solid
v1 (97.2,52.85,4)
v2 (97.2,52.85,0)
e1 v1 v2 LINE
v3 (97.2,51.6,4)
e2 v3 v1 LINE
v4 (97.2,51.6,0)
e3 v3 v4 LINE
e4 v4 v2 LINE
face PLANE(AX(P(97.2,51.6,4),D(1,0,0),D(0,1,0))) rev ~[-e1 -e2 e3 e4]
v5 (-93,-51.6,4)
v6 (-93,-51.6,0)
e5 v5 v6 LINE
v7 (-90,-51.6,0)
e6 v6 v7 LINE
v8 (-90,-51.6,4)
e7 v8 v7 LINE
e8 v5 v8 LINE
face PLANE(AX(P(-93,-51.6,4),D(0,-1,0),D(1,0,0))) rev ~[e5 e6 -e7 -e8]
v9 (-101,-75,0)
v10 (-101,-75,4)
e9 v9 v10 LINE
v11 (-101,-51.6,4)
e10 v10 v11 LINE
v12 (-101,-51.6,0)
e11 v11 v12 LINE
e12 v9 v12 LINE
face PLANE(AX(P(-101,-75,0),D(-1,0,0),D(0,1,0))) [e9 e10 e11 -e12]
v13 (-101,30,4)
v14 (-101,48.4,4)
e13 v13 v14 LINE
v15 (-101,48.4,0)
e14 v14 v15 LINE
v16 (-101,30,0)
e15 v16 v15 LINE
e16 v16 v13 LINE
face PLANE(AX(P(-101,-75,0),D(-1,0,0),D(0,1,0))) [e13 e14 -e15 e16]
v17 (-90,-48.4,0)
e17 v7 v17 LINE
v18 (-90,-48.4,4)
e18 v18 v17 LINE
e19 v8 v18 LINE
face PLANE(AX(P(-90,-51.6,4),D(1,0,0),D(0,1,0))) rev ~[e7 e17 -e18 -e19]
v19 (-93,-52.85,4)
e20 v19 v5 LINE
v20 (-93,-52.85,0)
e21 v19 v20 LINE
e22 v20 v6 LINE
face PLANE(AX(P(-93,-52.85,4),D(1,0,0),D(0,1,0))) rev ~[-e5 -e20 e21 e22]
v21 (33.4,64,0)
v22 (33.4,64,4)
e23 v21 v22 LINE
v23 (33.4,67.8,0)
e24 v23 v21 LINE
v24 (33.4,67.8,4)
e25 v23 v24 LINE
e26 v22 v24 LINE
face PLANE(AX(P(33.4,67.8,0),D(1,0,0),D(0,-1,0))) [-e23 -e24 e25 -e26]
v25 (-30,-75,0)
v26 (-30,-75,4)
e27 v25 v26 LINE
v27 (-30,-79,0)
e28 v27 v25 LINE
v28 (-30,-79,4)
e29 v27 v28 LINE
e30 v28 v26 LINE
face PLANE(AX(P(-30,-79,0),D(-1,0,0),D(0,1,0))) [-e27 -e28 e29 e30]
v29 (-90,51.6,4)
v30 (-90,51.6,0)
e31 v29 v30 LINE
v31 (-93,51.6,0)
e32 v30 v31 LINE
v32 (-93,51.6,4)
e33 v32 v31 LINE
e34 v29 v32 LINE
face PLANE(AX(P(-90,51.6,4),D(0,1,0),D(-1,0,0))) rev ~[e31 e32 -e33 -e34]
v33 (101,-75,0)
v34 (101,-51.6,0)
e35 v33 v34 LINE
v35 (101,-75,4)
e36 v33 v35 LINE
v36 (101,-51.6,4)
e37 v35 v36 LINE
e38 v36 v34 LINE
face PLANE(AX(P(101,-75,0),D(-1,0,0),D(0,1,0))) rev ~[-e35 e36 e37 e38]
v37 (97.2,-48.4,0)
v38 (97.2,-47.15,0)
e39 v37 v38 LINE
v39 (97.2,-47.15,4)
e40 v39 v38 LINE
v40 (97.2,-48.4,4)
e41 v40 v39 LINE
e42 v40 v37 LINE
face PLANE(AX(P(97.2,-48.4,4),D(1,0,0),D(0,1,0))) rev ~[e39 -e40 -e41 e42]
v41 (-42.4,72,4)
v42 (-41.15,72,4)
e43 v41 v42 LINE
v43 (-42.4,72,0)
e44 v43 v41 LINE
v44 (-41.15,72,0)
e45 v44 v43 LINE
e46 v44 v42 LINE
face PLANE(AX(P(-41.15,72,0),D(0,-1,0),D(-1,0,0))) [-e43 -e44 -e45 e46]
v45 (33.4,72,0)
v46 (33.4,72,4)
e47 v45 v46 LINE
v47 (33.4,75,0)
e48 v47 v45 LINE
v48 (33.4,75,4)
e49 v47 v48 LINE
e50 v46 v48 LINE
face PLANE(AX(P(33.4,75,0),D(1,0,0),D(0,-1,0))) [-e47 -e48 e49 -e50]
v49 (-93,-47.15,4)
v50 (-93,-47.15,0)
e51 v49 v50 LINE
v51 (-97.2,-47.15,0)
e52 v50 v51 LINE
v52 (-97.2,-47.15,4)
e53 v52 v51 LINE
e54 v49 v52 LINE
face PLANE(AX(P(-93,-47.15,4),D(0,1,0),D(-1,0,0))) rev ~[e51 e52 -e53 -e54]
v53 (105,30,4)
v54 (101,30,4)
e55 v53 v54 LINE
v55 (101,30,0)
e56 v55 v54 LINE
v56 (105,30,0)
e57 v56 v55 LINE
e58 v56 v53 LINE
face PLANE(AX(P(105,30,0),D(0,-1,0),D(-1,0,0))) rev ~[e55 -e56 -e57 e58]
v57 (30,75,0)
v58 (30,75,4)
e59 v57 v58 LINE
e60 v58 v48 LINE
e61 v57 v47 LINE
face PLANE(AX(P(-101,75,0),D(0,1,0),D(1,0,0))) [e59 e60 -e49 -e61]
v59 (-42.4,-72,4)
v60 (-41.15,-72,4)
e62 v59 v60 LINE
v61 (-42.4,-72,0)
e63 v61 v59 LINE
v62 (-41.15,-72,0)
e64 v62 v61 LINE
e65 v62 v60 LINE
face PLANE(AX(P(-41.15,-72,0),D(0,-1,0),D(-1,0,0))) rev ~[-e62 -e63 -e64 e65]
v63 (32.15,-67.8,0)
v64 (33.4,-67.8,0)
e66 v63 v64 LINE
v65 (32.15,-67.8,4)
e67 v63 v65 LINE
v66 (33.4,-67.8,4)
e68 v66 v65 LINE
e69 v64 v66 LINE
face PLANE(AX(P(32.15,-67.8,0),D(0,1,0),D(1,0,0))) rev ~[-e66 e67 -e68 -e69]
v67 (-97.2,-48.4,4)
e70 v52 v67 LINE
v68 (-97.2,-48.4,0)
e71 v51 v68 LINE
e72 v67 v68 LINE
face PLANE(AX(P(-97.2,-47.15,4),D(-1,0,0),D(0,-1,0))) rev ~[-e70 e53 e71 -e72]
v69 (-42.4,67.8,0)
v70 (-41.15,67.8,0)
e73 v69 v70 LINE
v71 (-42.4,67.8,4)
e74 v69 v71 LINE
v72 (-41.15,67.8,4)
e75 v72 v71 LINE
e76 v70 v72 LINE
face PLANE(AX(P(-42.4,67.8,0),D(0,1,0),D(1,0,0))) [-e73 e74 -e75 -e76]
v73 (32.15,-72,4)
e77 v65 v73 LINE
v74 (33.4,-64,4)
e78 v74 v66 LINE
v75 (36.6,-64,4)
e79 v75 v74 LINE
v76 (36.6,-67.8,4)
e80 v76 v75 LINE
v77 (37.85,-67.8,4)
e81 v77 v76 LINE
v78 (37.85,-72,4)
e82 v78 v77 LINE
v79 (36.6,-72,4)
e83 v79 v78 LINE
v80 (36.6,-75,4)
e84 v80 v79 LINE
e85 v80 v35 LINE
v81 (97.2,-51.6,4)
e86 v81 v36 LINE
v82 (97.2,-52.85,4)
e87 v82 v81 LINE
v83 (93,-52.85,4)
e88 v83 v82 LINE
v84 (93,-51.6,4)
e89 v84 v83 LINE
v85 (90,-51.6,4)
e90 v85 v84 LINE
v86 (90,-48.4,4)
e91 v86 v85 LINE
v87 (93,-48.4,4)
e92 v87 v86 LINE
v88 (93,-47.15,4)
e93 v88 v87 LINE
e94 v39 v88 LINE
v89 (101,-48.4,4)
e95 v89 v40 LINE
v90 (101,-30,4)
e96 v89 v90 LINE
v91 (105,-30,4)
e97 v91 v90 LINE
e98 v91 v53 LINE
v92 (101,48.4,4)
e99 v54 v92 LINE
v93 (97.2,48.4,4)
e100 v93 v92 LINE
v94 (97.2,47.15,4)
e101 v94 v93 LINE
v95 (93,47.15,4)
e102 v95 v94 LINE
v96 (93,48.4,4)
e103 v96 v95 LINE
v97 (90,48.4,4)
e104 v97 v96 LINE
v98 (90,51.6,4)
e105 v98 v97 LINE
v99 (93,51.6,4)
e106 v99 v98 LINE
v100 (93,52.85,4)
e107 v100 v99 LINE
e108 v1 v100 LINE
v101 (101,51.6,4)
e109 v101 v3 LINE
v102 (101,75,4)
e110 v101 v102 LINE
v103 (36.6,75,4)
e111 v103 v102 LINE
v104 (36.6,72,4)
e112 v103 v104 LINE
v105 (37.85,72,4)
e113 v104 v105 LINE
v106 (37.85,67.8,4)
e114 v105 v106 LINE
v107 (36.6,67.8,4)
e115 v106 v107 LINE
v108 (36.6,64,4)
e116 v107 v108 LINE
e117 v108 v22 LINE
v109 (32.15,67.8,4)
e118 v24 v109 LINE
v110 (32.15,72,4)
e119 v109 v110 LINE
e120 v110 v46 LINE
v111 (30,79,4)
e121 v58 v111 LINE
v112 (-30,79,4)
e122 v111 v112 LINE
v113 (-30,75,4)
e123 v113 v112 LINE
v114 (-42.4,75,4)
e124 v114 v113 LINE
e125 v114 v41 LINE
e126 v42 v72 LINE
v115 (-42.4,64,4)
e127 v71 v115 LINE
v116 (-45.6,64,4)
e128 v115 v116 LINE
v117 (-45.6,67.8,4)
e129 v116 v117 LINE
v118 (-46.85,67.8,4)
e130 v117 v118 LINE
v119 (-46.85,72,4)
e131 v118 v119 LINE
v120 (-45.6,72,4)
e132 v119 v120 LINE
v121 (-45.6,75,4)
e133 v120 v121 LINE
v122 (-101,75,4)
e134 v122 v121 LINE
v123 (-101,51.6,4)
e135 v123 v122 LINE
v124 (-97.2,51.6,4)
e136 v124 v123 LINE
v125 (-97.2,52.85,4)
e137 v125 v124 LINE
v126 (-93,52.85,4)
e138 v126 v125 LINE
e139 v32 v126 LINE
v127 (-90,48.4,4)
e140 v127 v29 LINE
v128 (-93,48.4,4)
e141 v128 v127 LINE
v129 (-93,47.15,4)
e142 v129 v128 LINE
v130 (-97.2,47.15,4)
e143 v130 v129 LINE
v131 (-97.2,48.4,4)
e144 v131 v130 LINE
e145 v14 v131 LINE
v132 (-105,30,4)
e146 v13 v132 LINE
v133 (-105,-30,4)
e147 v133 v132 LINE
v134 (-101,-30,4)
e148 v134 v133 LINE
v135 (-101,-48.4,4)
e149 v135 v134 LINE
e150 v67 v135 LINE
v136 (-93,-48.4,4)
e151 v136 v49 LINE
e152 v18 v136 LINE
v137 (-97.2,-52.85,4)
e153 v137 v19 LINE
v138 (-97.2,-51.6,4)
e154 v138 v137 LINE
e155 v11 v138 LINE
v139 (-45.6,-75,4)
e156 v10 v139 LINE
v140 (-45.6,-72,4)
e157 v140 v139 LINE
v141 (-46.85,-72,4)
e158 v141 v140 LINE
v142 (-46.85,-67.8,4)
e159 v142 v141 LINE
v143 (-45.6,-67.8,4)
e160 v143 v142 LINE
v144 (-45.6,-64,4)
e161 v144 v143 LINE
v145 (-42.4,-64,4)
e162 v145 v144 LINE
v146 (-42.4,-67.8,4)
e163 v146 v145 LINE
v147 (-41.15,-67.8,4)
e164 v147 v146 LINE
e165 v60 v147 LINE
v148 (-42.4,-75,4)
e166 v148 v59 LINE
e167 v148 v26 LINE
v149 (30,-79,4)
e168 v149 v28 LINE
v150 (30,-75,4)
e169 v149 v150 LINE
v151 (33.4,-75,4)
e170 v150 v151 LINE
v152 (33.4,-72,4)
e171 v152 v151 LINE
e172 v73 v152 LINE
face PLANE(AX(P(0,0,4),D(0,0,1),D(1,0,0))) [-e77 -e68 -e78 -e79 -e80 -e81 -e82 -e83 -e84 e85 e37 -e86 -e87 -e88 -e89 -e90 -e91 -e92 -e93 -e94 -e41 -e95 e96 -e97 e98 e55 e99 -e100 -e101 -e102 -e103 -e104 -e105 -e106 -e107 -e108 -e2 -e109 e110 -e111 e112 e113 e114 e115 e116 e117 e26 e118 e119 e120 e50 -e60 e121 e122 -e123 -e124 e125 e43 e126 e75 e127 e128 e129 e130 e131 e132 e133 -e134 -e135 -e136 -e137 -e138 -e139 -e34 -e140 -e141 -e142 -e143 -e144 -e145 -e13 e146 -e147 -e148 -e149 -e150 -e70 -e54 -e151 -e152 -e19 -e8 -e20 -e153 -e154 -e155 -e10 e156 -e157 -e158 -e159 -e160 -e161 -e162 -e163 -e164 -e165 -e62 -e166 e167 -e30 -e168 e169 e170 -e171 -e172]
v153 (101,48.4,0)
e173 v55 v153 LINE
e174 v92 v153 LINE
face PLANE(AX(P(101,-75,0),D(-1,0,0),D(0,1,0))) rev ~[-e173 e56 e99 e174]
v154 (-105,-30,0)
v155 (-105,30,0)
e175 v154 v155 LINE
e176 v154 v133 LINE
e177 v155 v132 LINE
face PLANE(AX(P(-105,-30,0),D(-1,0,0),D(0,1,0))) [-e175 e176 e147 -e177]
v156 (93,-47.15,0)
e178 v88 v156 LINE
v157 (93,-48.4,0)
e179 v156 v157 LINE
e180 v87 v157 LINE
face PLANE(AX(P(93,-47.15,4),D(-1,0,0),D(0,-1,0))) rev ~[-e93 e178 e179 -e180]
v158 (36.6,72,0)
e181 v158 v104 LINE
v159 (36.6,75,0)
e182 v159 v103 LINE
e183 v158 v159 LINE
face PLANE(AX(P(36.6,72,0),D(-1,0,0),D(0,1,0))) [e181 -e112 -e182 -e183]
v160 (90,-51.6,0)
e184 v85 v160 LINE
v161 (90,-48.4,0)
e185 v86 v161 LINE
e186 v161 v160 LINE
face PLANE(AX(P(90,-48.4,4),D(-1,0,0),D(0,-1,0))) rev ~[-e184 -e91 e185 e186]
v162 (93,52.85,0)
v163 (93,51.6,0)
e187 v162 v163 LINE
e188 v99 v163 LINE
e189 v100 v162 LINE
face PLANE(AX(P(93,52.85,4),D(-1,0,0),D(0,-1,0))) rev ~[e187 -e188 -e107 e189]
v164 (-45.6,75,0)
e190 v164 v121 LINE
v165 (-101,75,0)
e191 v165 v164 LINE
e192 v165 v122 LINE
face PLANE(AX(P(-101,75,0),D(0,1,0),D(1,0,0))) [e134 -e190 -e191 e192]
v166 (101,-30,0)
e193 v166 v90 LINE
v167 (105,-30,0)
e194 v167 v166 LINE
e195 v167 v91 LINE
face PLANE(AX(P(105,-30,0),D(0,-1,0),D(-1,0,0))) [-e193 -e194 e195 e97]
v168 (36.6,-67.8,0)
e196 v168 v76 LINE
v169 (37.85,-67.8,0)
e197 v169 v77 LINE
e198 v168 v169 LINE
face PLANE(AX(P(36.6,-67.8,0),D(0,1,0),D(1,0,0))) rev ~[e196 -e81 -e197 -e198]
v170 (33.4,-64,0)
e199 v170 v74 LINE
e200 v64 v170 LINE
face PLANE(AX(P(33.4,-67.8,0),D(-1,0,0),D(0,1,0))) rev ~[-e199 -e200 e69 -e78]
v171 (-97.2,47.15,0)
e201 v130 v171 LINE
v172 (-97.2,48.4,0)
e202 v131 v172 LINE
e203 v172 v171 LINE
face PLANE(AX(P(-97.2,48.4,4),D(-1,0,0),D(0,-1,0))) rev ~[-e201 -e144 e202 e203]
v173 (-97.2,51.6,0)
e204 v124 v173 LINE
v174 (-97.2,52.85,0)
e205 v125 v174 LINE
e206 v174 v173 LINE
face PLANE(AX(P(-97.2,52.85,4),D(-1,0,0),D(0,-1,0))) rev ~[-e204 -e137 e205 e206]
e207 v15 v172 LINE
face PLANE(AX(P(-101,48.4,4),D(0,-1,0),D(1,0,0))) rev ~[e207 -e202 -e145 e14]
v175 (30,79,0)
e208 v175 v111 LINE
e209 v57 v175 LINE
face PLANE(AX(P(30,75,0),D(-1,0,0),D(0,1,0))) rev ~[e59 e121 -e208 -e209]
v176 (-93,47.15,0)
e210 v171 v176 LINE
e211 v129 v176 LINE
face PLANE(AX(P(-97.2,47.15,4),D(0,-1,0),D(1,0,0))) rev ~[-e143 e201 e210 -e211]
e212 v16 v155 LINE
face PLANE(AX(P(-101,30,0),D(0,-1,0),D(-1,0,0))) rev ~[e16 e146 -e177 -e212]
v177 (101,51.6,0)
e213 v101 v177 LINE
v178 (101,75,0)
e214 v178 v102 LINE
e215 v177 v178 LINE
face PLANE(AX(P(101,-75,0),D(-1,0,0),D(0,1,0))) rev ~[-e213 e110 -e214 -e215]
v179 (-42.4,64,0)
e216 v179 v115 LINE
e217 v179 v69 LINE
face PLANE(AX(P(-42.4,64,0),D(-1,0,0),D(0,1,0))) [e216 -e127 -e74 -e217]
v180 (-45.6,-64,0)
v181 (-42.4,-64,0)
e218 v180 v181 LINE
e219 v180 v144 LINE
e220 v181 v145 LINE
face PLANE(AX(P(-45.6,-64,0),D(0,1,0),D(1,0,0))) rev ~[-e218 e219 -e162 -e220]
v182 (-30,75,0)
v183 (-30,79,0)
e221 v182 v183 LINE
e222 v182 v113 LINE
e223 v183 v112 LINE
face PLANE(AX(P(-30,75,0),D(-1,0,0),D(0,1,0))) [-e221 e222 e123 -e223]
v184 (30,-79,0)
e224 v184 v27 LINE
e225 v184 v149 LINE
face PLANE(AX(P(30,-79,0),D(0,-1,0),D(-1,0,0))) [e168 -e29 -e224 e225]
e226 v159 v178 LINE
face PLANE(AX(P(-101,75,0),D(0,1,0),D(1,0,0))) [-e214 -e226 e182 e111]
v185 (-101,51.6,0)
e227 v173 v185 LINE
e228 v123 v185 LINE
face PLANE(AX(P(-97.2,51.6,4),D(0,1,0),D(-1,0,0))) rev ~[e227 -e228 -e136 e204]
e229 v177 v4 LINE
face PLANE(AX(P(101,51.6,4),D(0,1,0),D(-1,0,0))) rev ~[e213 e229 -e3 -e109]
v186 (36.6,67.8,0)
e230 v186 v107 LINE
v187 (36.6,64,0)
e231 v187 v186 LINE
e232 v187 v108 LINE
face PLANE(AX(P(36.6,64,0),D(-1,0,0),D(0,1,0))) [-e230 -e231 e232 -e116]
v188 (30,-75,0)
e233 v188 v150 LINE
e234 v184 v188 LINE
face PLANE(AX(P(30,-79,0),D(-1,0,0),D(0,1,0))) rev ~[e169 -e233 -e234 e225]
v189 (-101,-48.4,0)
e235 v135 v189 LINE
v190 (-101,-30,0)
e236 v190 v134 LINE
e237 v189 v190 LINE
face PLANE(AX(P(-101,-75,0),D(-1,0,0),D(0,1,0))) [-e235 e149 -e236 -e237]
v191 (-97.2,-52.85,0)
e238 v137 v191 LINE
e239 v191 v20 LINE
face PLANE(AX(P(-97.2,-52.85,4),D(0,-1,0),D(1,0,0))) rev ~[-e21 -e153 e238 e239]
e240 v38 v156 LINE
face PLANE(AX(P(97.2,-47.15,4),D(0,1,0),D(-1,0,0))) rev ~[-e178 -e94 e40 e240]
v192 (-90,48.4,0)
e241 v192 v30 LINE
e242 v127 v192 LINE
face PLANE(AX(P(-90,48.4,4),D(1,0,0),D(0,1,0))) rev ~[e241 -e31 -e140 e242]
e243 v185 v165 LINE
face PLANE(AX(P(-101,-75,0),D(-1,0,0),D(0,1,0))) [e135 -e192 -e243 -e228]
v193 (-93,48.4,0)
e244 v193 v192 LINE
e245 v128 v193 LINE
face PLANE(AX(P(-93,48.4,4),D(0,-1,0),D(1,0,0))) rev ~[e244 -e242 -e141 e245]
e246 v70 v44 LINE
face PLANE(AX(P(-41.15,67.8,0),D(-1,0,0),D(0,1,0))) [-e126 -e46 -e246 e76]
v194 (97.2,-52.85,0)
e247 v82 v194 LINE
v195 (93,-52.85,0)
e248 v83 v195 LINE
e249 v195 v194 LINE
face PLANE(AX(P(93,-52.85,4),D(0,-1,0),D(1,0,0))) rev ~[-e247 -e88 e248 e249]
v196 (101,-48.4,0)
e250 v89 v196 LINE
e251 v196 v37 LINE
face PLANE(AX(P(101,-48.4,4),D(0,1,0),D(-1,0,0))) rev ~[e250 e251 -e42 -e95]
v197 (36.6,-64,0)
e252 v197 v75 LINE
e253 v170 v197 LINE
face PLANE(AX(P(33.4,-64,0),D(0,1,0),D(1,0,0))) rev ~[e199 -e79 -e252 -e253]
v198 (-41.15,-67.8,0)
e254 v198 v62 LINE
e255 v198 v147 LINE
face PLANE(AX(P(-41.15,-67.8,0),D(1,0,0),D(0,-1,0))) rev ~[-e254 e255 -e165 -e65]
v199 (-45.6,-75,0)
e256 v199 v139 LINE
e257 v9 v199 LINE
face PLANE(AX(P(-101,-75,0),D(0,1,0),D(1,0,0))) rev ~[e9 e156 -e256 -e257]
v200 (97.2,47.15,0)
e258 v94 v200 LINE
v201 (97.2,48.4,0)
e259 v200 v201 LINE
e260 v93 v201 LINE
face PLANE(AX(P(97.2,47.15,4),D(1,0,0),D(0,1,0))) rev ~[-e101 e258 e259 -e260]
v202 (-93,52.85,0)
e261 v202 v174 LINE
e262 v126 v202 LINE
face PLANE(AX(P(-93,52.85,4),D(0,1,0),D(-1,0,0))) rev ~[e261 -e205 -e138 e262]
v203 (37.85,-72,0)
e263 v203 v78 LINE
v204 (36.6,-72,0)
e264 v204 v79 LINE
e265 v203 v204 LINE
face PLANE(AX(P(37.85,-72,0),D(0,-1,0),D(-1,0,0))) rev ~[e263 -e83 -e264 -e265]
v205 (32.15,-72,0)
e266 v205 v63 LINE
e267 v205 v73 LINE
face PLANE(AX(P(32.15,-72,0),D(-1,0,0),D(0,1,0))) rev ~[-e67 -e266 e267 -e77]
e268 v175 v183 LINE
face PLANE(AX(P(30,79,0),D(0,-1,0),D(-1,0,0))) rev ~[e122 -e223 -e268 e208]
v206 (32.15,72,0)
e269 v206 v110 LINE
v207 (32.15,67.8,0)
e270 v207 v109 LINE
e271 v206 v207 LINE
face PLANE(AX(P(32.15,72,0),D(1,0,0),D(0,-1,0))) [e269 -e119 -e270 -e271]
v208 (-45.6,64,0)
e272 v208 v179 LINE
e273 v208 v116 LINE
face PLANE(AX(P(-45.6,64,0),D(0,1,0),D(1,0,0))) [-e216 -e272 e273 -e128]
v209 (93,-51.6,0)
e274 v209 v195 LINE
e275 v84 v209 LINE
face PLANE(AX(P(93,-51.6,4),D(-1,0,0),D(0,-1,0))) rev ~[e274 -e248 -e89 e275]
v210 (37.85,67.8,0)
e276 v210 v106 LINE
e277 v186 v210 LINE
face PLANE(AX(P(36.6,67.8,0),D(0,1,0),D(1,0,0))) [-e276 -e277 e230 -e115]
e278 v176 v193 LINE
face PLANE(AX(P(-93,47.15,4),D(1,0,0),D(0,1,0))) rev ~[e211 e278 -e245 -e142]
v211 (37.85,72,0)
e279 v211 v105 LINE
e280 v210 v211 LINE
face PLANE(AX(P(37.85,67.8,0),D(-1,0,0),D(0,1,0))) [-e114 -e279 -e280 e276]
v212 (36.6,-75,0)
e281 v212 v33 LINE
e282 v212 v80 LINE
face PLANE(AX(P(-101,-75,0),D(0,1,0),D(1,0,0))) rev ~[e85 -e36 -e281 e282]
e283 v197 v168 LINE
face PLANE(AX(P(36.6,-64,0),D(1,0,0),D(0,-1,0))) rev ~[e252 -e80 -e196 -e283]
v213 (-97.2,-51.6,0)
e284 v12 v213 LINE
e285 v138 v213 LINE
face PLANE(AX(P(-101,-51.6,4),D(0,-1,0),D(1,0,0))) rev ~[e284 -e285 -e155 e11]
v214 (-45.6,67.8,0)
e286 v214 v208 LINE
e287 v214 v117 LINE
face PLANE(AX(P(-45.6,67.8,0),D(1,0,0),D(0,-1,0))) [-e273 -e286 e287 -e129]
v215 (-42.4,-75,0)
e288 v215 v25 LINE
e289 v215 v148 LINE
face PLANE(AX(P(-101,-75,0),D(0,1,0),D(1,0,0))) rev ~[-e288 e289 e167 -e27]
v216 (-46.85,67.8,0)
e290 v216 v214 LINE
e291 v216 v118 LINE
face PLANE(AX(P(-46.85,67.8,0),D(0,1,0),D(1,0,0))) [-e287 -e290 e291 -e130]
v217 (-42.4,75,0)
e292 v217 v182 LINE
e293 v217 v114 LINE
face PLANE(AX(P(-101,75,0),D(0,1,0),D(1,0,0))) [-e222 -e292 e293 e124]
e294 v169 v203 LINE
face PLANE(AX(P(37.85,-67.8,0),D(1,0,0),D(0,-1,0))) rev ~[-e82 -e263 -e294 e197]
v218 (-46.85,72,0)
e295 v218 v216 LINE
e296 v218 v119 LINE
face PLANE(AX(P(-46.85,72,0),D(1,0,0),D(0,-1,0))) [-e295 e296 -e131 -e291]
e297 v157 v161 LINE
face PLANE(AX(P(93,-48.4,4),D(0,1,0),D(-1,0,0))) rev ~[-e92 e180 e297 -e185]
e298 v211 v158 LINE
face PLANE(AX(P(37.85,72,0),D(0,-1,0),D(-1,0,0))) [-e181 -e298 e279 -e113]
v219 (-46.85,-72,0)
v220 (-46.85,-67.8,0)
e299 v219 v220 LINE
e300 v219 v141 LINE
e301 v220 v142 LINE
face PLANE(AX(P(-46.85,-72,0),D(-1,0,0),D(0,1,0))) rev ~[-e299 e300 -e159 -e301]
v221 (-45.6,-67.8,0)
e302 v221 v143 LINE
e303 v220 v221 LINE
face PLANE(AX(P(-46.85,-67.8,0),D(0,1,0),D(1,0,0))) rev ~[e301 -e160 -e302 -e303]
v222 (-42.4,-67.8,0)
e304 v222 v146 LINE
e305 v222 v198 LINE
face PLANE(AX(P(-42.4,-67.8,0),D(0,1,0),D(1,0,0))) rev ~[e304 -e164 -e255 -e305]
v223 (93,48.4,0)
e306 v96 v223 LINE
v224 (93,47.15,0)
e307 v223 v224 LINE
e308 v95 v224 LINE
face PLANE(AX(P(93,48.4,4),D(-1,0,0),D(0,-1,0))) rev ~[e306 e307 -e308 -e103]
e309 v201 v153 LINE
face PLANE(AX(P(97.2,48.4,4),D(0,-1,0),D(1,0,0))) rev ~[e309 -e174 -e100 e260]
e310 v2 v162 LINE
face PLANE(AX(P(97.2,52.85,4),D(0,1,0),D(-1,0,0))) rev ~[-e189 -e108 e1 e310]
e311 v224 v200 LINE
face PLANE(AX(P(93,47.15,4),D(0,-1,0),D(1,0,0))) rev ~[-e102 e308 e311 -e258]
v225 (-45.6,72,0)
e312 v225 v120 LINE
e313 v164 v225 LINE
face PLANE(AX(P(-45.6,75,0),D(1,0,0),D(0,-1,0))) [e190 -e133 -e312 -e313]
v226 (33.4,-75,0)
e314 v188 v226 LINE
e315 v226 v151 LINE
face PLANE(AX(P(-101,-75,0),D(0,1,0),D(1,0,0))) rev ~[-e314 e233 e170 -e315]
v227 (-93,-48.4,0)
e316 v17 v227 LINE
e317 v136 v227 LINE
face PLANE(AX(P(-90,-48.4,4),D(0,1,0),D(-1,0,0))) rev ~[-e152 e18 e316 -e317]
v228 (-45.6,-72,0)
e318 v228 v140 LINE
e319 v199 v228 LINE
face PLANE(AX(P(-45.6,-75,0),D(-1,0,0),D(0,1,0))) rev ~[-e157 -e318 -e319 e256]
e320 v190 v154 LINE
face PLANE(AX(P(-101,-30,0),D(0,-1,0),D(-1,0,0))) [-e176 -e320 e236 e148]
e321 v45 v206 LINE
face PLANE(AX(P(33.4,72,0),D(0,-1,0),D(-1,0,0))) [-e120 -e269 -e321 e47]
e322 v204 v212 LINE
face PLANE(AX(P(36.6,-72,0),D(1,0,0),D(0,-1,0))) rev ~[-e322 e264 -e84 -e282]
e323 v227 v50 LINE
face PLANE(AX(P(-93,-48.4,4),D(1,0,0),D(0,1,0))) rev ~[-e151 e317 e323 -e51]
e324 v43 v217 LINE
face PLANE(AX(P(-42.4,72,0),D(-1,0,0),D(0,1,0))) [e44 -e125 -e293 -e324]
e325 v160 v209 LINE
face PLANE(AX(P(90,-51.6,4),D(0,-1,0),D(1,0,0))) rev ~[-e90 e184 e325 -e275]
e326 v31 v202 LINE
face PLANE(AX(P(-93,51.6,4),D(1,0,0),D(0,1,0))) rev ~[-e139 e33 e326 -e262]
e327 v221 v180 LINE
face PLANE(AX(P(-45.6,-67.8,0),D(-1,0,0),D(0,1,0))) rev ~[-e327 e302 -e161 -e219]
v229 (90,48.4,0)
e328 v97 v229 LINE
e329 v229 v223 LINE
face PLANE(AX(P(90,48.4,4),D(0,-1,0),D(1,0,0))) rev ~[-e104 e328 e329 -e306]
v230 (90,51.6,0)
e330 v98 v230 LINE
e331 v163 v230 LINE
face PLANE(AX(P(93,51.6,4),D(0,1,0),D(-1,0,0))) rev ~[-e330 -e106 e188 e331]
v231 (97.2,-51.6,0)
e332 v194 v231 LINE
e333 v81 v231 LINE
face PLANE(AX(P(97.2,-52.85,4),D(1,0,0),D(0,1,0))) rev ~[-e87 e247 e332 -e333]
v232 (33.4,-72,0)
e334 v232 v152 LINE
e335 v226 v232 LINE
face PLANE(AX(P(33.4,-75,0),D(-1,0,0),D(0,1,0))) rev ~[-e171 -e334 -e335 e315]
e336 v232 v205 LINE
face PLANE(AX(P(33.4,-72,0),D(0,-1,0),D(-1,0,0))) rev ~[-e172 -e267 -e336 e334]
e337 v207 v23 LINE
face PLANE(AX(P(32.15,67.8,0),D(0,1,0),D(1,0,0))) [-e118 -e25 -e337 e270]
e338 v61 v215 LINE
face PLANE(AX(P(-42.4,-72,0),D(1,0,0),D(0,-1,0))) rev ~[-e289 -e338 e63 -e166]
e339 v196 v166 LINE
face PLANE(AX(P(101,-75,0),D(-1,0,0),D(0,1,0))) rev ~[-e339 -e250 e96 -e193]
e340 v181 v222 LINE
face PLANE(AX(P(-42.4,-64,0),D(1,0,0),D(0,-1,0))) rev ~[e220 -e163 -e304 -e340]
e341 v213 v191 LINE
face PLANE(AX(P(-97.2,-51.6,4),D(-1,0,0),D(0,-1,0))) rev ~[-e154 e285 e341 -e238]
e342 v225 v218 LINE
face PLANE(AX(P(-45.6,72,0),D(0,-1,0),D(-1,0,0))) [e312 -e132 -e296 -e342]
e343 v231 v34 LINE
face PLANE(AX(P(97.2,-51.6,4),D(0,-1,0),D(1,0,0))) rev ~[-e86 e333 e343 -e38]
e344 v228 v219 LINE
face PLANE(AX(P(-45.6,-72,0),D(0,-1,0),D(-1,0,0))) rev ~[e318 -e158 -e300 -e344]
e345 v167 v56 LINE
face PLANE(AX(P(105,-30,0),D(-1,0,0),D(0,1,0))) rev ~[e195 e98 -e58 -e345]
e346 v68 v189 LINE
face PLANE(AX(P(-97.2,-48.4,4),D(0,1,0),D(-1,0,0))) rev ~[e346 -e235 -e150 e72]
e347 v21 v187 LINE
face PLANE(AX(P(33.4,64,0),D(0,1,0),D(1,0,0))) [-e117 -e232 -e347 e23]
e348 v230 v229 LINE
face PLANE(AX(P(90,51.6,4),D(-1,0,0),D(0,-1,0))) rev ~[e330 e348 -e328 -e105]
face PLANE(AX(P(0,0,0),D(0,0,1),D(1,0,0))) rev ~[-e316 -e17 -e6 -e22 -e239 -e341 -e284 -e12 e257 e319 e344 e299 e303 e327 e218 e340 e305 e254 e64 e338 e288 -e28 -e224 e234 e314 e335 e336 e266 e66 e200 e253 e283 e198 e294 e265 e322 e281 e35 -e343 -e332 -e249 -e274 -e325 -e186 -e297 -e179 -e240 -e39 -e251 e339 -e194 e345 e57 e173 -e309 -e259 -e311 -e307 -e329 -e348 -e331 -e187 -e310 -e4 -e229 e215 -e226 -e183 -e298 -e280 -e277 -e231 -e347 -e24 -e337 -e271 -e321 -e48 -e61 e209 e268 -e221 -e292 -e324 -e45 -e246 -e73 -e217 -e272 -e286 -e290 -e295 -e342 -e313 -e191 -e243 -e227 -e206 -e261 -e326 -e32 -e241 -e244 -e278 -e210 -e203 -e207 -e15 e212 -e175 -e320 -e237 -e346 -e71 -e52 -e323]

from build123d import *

# Parameters (mm, degrees)
ESQUISSE1_W             = 202
ESQUISSE1_H             = 150
BOSS_EXTRU_1_DEPTH      = 4
ESQUISSE2_W             = 4
ESQUISSE2_H             = 60
ESQUISSE2_W_2           = 60
ESQUISSE2_H_2           = 4
BOSS_EXTRU_2_DEPTH      = 4
ENL_V_MAT_EXTRU_1_DEPTH = 10
ENL_V_MAT_EXTRU_2_DEPTH = 4


with BuildPart() as part:
    # Esquisse1 → Boss.-Extru.1 (new body)
    with BuildSketch(Plane.XY):
        Rectangle(ESQUISSE1_W, ESQUISSE1_H)
    extrude(amount=BOSS_EXTRU_1_DEPTH)

    # Esquisse2 → Boss.-Extru.2 (add)
    with BuildSketch(Plane(origin=(0, 0, 0), x_dir=(-1, 0, 0), z_dir=(0, 0, -1))):
        with Locations((-103, 0)):
            Rectangle(ESQUISSE2_W, ESQUISSE2_H)
        with Locations((103, 0)):
            Rectangle(ESQUISSE2_W, ESQUISSE2_H)
        with Locations((0, -77)):
            Rectangle(ESQUISSE2_W_2, ESQUISSE2_H_2)
        with Locations((0, 77)):
            Rectangle(ESQUISSE2_W_2, ESQUISSE2_H_2)
    extrude(amount=-BOSS_EXTRU_2_DEPTH)

    # Esquisse3 → Enlèv. mat.-Extru.1 (cut)
    with BuildSketch(Plane(origin=(0, 0, 0), x_dir=(-1, 0, 0), z_dir=(0, 0, -1))):
        Polygon((42.4, 75), (45.6, 75), (45.6, 72), (46.85, 72), (46.85, 67.8), (45.6, 67.8), (45.6, 64), (42.4, 64), (42.4, 67.8), (41.15, 67.8), (41.15, 72), (42.4, 72), align=None)
        Polygon((-36.6, 75), (-33.4, 75), (-33.4, 72), (-32.15, 72), (-32.15, 67.8), (-33.4, 67.8), (-33.4, 64), (-36.6, 64), (-36.6, 67.8), (-37.85, 67.8), (-37.85, 72), (-36.6, 72), align=None)
        Polygon((-33.4, -75), (-33.4, -72), (-32.15, -72), (-32.15, -67.8), (-33.4, -67.8), (-33.4, -64), (-36.6, -64), (-36.6, -67.8), (-37.85, -67.8), (-37.85, -72), (-36.6, -72), (-36.6, -75), align=None)
        Polygon((45.6, -75), (45.6, -72), (46.85, -72), (46.85, -67.8), (45.6, -67.8), (45.6, -64), (42.4, -64), (42.4, -67.8), (41.15, -67.8), (41.15, -72), (42.4, -72), (42.4, -75), align=None)
    extrude(amount=-ENL_V_MAT_EXTRU_1_DEPTH, mode=Mode.SUBTRACT)

    # Esquisse4 → Enlèv. mat.-Extru.2 (cut)
    with BuildSketch(Plane.XY.offset(4)):
        Polygon((90, 48.4), (93, 48.4), (93, 47.15), (97.2, 47.15), (97.2, 48.4), (101, 48.4), (101, 51.6), (97.2, 51.6), (97.2, 52.85), (93, 52.85), (93, 51.6), (90, 51.6), align=None)
        Polygon((97.2, -51.6), (101, -51.6), (101, -48.4), (97.2, -48.4), (97.2, -47.15), (93, -47.15), (93, -48.4), (90, -48.4), (90, -51.6), (93, -51.6), (93, -52.85), (97.2, -52.85), align=None)
        Polygon((-90, -48.4), (-93, -48.4), (-93, -47.15), (-97.2, -47.15), (-97.2, -48.4), (-101, -48.4), (-101, -51.6), (-97.2, -51.6), (-97.2, -52.85), (-93, -52.85), (-93, -51.6), (-90, -51.6), align=None)
        Polygon((-97.2, 51.6), (-101, 51.6), (-101, 48.4), (-97.2, 48.4), (-97.2, 47.15), (-93, 47.15), (-93, 48.4), (-90, 48.4), (-90, 51.6), (-93, 51.6), (-93, 52.85), (-97.2, 52.85), align=None)
    extrude(amount=-ENL_V_MAT_EXTRU_2_DEPTH, mode=Mode.SUBTRACT)


solid = part.part
